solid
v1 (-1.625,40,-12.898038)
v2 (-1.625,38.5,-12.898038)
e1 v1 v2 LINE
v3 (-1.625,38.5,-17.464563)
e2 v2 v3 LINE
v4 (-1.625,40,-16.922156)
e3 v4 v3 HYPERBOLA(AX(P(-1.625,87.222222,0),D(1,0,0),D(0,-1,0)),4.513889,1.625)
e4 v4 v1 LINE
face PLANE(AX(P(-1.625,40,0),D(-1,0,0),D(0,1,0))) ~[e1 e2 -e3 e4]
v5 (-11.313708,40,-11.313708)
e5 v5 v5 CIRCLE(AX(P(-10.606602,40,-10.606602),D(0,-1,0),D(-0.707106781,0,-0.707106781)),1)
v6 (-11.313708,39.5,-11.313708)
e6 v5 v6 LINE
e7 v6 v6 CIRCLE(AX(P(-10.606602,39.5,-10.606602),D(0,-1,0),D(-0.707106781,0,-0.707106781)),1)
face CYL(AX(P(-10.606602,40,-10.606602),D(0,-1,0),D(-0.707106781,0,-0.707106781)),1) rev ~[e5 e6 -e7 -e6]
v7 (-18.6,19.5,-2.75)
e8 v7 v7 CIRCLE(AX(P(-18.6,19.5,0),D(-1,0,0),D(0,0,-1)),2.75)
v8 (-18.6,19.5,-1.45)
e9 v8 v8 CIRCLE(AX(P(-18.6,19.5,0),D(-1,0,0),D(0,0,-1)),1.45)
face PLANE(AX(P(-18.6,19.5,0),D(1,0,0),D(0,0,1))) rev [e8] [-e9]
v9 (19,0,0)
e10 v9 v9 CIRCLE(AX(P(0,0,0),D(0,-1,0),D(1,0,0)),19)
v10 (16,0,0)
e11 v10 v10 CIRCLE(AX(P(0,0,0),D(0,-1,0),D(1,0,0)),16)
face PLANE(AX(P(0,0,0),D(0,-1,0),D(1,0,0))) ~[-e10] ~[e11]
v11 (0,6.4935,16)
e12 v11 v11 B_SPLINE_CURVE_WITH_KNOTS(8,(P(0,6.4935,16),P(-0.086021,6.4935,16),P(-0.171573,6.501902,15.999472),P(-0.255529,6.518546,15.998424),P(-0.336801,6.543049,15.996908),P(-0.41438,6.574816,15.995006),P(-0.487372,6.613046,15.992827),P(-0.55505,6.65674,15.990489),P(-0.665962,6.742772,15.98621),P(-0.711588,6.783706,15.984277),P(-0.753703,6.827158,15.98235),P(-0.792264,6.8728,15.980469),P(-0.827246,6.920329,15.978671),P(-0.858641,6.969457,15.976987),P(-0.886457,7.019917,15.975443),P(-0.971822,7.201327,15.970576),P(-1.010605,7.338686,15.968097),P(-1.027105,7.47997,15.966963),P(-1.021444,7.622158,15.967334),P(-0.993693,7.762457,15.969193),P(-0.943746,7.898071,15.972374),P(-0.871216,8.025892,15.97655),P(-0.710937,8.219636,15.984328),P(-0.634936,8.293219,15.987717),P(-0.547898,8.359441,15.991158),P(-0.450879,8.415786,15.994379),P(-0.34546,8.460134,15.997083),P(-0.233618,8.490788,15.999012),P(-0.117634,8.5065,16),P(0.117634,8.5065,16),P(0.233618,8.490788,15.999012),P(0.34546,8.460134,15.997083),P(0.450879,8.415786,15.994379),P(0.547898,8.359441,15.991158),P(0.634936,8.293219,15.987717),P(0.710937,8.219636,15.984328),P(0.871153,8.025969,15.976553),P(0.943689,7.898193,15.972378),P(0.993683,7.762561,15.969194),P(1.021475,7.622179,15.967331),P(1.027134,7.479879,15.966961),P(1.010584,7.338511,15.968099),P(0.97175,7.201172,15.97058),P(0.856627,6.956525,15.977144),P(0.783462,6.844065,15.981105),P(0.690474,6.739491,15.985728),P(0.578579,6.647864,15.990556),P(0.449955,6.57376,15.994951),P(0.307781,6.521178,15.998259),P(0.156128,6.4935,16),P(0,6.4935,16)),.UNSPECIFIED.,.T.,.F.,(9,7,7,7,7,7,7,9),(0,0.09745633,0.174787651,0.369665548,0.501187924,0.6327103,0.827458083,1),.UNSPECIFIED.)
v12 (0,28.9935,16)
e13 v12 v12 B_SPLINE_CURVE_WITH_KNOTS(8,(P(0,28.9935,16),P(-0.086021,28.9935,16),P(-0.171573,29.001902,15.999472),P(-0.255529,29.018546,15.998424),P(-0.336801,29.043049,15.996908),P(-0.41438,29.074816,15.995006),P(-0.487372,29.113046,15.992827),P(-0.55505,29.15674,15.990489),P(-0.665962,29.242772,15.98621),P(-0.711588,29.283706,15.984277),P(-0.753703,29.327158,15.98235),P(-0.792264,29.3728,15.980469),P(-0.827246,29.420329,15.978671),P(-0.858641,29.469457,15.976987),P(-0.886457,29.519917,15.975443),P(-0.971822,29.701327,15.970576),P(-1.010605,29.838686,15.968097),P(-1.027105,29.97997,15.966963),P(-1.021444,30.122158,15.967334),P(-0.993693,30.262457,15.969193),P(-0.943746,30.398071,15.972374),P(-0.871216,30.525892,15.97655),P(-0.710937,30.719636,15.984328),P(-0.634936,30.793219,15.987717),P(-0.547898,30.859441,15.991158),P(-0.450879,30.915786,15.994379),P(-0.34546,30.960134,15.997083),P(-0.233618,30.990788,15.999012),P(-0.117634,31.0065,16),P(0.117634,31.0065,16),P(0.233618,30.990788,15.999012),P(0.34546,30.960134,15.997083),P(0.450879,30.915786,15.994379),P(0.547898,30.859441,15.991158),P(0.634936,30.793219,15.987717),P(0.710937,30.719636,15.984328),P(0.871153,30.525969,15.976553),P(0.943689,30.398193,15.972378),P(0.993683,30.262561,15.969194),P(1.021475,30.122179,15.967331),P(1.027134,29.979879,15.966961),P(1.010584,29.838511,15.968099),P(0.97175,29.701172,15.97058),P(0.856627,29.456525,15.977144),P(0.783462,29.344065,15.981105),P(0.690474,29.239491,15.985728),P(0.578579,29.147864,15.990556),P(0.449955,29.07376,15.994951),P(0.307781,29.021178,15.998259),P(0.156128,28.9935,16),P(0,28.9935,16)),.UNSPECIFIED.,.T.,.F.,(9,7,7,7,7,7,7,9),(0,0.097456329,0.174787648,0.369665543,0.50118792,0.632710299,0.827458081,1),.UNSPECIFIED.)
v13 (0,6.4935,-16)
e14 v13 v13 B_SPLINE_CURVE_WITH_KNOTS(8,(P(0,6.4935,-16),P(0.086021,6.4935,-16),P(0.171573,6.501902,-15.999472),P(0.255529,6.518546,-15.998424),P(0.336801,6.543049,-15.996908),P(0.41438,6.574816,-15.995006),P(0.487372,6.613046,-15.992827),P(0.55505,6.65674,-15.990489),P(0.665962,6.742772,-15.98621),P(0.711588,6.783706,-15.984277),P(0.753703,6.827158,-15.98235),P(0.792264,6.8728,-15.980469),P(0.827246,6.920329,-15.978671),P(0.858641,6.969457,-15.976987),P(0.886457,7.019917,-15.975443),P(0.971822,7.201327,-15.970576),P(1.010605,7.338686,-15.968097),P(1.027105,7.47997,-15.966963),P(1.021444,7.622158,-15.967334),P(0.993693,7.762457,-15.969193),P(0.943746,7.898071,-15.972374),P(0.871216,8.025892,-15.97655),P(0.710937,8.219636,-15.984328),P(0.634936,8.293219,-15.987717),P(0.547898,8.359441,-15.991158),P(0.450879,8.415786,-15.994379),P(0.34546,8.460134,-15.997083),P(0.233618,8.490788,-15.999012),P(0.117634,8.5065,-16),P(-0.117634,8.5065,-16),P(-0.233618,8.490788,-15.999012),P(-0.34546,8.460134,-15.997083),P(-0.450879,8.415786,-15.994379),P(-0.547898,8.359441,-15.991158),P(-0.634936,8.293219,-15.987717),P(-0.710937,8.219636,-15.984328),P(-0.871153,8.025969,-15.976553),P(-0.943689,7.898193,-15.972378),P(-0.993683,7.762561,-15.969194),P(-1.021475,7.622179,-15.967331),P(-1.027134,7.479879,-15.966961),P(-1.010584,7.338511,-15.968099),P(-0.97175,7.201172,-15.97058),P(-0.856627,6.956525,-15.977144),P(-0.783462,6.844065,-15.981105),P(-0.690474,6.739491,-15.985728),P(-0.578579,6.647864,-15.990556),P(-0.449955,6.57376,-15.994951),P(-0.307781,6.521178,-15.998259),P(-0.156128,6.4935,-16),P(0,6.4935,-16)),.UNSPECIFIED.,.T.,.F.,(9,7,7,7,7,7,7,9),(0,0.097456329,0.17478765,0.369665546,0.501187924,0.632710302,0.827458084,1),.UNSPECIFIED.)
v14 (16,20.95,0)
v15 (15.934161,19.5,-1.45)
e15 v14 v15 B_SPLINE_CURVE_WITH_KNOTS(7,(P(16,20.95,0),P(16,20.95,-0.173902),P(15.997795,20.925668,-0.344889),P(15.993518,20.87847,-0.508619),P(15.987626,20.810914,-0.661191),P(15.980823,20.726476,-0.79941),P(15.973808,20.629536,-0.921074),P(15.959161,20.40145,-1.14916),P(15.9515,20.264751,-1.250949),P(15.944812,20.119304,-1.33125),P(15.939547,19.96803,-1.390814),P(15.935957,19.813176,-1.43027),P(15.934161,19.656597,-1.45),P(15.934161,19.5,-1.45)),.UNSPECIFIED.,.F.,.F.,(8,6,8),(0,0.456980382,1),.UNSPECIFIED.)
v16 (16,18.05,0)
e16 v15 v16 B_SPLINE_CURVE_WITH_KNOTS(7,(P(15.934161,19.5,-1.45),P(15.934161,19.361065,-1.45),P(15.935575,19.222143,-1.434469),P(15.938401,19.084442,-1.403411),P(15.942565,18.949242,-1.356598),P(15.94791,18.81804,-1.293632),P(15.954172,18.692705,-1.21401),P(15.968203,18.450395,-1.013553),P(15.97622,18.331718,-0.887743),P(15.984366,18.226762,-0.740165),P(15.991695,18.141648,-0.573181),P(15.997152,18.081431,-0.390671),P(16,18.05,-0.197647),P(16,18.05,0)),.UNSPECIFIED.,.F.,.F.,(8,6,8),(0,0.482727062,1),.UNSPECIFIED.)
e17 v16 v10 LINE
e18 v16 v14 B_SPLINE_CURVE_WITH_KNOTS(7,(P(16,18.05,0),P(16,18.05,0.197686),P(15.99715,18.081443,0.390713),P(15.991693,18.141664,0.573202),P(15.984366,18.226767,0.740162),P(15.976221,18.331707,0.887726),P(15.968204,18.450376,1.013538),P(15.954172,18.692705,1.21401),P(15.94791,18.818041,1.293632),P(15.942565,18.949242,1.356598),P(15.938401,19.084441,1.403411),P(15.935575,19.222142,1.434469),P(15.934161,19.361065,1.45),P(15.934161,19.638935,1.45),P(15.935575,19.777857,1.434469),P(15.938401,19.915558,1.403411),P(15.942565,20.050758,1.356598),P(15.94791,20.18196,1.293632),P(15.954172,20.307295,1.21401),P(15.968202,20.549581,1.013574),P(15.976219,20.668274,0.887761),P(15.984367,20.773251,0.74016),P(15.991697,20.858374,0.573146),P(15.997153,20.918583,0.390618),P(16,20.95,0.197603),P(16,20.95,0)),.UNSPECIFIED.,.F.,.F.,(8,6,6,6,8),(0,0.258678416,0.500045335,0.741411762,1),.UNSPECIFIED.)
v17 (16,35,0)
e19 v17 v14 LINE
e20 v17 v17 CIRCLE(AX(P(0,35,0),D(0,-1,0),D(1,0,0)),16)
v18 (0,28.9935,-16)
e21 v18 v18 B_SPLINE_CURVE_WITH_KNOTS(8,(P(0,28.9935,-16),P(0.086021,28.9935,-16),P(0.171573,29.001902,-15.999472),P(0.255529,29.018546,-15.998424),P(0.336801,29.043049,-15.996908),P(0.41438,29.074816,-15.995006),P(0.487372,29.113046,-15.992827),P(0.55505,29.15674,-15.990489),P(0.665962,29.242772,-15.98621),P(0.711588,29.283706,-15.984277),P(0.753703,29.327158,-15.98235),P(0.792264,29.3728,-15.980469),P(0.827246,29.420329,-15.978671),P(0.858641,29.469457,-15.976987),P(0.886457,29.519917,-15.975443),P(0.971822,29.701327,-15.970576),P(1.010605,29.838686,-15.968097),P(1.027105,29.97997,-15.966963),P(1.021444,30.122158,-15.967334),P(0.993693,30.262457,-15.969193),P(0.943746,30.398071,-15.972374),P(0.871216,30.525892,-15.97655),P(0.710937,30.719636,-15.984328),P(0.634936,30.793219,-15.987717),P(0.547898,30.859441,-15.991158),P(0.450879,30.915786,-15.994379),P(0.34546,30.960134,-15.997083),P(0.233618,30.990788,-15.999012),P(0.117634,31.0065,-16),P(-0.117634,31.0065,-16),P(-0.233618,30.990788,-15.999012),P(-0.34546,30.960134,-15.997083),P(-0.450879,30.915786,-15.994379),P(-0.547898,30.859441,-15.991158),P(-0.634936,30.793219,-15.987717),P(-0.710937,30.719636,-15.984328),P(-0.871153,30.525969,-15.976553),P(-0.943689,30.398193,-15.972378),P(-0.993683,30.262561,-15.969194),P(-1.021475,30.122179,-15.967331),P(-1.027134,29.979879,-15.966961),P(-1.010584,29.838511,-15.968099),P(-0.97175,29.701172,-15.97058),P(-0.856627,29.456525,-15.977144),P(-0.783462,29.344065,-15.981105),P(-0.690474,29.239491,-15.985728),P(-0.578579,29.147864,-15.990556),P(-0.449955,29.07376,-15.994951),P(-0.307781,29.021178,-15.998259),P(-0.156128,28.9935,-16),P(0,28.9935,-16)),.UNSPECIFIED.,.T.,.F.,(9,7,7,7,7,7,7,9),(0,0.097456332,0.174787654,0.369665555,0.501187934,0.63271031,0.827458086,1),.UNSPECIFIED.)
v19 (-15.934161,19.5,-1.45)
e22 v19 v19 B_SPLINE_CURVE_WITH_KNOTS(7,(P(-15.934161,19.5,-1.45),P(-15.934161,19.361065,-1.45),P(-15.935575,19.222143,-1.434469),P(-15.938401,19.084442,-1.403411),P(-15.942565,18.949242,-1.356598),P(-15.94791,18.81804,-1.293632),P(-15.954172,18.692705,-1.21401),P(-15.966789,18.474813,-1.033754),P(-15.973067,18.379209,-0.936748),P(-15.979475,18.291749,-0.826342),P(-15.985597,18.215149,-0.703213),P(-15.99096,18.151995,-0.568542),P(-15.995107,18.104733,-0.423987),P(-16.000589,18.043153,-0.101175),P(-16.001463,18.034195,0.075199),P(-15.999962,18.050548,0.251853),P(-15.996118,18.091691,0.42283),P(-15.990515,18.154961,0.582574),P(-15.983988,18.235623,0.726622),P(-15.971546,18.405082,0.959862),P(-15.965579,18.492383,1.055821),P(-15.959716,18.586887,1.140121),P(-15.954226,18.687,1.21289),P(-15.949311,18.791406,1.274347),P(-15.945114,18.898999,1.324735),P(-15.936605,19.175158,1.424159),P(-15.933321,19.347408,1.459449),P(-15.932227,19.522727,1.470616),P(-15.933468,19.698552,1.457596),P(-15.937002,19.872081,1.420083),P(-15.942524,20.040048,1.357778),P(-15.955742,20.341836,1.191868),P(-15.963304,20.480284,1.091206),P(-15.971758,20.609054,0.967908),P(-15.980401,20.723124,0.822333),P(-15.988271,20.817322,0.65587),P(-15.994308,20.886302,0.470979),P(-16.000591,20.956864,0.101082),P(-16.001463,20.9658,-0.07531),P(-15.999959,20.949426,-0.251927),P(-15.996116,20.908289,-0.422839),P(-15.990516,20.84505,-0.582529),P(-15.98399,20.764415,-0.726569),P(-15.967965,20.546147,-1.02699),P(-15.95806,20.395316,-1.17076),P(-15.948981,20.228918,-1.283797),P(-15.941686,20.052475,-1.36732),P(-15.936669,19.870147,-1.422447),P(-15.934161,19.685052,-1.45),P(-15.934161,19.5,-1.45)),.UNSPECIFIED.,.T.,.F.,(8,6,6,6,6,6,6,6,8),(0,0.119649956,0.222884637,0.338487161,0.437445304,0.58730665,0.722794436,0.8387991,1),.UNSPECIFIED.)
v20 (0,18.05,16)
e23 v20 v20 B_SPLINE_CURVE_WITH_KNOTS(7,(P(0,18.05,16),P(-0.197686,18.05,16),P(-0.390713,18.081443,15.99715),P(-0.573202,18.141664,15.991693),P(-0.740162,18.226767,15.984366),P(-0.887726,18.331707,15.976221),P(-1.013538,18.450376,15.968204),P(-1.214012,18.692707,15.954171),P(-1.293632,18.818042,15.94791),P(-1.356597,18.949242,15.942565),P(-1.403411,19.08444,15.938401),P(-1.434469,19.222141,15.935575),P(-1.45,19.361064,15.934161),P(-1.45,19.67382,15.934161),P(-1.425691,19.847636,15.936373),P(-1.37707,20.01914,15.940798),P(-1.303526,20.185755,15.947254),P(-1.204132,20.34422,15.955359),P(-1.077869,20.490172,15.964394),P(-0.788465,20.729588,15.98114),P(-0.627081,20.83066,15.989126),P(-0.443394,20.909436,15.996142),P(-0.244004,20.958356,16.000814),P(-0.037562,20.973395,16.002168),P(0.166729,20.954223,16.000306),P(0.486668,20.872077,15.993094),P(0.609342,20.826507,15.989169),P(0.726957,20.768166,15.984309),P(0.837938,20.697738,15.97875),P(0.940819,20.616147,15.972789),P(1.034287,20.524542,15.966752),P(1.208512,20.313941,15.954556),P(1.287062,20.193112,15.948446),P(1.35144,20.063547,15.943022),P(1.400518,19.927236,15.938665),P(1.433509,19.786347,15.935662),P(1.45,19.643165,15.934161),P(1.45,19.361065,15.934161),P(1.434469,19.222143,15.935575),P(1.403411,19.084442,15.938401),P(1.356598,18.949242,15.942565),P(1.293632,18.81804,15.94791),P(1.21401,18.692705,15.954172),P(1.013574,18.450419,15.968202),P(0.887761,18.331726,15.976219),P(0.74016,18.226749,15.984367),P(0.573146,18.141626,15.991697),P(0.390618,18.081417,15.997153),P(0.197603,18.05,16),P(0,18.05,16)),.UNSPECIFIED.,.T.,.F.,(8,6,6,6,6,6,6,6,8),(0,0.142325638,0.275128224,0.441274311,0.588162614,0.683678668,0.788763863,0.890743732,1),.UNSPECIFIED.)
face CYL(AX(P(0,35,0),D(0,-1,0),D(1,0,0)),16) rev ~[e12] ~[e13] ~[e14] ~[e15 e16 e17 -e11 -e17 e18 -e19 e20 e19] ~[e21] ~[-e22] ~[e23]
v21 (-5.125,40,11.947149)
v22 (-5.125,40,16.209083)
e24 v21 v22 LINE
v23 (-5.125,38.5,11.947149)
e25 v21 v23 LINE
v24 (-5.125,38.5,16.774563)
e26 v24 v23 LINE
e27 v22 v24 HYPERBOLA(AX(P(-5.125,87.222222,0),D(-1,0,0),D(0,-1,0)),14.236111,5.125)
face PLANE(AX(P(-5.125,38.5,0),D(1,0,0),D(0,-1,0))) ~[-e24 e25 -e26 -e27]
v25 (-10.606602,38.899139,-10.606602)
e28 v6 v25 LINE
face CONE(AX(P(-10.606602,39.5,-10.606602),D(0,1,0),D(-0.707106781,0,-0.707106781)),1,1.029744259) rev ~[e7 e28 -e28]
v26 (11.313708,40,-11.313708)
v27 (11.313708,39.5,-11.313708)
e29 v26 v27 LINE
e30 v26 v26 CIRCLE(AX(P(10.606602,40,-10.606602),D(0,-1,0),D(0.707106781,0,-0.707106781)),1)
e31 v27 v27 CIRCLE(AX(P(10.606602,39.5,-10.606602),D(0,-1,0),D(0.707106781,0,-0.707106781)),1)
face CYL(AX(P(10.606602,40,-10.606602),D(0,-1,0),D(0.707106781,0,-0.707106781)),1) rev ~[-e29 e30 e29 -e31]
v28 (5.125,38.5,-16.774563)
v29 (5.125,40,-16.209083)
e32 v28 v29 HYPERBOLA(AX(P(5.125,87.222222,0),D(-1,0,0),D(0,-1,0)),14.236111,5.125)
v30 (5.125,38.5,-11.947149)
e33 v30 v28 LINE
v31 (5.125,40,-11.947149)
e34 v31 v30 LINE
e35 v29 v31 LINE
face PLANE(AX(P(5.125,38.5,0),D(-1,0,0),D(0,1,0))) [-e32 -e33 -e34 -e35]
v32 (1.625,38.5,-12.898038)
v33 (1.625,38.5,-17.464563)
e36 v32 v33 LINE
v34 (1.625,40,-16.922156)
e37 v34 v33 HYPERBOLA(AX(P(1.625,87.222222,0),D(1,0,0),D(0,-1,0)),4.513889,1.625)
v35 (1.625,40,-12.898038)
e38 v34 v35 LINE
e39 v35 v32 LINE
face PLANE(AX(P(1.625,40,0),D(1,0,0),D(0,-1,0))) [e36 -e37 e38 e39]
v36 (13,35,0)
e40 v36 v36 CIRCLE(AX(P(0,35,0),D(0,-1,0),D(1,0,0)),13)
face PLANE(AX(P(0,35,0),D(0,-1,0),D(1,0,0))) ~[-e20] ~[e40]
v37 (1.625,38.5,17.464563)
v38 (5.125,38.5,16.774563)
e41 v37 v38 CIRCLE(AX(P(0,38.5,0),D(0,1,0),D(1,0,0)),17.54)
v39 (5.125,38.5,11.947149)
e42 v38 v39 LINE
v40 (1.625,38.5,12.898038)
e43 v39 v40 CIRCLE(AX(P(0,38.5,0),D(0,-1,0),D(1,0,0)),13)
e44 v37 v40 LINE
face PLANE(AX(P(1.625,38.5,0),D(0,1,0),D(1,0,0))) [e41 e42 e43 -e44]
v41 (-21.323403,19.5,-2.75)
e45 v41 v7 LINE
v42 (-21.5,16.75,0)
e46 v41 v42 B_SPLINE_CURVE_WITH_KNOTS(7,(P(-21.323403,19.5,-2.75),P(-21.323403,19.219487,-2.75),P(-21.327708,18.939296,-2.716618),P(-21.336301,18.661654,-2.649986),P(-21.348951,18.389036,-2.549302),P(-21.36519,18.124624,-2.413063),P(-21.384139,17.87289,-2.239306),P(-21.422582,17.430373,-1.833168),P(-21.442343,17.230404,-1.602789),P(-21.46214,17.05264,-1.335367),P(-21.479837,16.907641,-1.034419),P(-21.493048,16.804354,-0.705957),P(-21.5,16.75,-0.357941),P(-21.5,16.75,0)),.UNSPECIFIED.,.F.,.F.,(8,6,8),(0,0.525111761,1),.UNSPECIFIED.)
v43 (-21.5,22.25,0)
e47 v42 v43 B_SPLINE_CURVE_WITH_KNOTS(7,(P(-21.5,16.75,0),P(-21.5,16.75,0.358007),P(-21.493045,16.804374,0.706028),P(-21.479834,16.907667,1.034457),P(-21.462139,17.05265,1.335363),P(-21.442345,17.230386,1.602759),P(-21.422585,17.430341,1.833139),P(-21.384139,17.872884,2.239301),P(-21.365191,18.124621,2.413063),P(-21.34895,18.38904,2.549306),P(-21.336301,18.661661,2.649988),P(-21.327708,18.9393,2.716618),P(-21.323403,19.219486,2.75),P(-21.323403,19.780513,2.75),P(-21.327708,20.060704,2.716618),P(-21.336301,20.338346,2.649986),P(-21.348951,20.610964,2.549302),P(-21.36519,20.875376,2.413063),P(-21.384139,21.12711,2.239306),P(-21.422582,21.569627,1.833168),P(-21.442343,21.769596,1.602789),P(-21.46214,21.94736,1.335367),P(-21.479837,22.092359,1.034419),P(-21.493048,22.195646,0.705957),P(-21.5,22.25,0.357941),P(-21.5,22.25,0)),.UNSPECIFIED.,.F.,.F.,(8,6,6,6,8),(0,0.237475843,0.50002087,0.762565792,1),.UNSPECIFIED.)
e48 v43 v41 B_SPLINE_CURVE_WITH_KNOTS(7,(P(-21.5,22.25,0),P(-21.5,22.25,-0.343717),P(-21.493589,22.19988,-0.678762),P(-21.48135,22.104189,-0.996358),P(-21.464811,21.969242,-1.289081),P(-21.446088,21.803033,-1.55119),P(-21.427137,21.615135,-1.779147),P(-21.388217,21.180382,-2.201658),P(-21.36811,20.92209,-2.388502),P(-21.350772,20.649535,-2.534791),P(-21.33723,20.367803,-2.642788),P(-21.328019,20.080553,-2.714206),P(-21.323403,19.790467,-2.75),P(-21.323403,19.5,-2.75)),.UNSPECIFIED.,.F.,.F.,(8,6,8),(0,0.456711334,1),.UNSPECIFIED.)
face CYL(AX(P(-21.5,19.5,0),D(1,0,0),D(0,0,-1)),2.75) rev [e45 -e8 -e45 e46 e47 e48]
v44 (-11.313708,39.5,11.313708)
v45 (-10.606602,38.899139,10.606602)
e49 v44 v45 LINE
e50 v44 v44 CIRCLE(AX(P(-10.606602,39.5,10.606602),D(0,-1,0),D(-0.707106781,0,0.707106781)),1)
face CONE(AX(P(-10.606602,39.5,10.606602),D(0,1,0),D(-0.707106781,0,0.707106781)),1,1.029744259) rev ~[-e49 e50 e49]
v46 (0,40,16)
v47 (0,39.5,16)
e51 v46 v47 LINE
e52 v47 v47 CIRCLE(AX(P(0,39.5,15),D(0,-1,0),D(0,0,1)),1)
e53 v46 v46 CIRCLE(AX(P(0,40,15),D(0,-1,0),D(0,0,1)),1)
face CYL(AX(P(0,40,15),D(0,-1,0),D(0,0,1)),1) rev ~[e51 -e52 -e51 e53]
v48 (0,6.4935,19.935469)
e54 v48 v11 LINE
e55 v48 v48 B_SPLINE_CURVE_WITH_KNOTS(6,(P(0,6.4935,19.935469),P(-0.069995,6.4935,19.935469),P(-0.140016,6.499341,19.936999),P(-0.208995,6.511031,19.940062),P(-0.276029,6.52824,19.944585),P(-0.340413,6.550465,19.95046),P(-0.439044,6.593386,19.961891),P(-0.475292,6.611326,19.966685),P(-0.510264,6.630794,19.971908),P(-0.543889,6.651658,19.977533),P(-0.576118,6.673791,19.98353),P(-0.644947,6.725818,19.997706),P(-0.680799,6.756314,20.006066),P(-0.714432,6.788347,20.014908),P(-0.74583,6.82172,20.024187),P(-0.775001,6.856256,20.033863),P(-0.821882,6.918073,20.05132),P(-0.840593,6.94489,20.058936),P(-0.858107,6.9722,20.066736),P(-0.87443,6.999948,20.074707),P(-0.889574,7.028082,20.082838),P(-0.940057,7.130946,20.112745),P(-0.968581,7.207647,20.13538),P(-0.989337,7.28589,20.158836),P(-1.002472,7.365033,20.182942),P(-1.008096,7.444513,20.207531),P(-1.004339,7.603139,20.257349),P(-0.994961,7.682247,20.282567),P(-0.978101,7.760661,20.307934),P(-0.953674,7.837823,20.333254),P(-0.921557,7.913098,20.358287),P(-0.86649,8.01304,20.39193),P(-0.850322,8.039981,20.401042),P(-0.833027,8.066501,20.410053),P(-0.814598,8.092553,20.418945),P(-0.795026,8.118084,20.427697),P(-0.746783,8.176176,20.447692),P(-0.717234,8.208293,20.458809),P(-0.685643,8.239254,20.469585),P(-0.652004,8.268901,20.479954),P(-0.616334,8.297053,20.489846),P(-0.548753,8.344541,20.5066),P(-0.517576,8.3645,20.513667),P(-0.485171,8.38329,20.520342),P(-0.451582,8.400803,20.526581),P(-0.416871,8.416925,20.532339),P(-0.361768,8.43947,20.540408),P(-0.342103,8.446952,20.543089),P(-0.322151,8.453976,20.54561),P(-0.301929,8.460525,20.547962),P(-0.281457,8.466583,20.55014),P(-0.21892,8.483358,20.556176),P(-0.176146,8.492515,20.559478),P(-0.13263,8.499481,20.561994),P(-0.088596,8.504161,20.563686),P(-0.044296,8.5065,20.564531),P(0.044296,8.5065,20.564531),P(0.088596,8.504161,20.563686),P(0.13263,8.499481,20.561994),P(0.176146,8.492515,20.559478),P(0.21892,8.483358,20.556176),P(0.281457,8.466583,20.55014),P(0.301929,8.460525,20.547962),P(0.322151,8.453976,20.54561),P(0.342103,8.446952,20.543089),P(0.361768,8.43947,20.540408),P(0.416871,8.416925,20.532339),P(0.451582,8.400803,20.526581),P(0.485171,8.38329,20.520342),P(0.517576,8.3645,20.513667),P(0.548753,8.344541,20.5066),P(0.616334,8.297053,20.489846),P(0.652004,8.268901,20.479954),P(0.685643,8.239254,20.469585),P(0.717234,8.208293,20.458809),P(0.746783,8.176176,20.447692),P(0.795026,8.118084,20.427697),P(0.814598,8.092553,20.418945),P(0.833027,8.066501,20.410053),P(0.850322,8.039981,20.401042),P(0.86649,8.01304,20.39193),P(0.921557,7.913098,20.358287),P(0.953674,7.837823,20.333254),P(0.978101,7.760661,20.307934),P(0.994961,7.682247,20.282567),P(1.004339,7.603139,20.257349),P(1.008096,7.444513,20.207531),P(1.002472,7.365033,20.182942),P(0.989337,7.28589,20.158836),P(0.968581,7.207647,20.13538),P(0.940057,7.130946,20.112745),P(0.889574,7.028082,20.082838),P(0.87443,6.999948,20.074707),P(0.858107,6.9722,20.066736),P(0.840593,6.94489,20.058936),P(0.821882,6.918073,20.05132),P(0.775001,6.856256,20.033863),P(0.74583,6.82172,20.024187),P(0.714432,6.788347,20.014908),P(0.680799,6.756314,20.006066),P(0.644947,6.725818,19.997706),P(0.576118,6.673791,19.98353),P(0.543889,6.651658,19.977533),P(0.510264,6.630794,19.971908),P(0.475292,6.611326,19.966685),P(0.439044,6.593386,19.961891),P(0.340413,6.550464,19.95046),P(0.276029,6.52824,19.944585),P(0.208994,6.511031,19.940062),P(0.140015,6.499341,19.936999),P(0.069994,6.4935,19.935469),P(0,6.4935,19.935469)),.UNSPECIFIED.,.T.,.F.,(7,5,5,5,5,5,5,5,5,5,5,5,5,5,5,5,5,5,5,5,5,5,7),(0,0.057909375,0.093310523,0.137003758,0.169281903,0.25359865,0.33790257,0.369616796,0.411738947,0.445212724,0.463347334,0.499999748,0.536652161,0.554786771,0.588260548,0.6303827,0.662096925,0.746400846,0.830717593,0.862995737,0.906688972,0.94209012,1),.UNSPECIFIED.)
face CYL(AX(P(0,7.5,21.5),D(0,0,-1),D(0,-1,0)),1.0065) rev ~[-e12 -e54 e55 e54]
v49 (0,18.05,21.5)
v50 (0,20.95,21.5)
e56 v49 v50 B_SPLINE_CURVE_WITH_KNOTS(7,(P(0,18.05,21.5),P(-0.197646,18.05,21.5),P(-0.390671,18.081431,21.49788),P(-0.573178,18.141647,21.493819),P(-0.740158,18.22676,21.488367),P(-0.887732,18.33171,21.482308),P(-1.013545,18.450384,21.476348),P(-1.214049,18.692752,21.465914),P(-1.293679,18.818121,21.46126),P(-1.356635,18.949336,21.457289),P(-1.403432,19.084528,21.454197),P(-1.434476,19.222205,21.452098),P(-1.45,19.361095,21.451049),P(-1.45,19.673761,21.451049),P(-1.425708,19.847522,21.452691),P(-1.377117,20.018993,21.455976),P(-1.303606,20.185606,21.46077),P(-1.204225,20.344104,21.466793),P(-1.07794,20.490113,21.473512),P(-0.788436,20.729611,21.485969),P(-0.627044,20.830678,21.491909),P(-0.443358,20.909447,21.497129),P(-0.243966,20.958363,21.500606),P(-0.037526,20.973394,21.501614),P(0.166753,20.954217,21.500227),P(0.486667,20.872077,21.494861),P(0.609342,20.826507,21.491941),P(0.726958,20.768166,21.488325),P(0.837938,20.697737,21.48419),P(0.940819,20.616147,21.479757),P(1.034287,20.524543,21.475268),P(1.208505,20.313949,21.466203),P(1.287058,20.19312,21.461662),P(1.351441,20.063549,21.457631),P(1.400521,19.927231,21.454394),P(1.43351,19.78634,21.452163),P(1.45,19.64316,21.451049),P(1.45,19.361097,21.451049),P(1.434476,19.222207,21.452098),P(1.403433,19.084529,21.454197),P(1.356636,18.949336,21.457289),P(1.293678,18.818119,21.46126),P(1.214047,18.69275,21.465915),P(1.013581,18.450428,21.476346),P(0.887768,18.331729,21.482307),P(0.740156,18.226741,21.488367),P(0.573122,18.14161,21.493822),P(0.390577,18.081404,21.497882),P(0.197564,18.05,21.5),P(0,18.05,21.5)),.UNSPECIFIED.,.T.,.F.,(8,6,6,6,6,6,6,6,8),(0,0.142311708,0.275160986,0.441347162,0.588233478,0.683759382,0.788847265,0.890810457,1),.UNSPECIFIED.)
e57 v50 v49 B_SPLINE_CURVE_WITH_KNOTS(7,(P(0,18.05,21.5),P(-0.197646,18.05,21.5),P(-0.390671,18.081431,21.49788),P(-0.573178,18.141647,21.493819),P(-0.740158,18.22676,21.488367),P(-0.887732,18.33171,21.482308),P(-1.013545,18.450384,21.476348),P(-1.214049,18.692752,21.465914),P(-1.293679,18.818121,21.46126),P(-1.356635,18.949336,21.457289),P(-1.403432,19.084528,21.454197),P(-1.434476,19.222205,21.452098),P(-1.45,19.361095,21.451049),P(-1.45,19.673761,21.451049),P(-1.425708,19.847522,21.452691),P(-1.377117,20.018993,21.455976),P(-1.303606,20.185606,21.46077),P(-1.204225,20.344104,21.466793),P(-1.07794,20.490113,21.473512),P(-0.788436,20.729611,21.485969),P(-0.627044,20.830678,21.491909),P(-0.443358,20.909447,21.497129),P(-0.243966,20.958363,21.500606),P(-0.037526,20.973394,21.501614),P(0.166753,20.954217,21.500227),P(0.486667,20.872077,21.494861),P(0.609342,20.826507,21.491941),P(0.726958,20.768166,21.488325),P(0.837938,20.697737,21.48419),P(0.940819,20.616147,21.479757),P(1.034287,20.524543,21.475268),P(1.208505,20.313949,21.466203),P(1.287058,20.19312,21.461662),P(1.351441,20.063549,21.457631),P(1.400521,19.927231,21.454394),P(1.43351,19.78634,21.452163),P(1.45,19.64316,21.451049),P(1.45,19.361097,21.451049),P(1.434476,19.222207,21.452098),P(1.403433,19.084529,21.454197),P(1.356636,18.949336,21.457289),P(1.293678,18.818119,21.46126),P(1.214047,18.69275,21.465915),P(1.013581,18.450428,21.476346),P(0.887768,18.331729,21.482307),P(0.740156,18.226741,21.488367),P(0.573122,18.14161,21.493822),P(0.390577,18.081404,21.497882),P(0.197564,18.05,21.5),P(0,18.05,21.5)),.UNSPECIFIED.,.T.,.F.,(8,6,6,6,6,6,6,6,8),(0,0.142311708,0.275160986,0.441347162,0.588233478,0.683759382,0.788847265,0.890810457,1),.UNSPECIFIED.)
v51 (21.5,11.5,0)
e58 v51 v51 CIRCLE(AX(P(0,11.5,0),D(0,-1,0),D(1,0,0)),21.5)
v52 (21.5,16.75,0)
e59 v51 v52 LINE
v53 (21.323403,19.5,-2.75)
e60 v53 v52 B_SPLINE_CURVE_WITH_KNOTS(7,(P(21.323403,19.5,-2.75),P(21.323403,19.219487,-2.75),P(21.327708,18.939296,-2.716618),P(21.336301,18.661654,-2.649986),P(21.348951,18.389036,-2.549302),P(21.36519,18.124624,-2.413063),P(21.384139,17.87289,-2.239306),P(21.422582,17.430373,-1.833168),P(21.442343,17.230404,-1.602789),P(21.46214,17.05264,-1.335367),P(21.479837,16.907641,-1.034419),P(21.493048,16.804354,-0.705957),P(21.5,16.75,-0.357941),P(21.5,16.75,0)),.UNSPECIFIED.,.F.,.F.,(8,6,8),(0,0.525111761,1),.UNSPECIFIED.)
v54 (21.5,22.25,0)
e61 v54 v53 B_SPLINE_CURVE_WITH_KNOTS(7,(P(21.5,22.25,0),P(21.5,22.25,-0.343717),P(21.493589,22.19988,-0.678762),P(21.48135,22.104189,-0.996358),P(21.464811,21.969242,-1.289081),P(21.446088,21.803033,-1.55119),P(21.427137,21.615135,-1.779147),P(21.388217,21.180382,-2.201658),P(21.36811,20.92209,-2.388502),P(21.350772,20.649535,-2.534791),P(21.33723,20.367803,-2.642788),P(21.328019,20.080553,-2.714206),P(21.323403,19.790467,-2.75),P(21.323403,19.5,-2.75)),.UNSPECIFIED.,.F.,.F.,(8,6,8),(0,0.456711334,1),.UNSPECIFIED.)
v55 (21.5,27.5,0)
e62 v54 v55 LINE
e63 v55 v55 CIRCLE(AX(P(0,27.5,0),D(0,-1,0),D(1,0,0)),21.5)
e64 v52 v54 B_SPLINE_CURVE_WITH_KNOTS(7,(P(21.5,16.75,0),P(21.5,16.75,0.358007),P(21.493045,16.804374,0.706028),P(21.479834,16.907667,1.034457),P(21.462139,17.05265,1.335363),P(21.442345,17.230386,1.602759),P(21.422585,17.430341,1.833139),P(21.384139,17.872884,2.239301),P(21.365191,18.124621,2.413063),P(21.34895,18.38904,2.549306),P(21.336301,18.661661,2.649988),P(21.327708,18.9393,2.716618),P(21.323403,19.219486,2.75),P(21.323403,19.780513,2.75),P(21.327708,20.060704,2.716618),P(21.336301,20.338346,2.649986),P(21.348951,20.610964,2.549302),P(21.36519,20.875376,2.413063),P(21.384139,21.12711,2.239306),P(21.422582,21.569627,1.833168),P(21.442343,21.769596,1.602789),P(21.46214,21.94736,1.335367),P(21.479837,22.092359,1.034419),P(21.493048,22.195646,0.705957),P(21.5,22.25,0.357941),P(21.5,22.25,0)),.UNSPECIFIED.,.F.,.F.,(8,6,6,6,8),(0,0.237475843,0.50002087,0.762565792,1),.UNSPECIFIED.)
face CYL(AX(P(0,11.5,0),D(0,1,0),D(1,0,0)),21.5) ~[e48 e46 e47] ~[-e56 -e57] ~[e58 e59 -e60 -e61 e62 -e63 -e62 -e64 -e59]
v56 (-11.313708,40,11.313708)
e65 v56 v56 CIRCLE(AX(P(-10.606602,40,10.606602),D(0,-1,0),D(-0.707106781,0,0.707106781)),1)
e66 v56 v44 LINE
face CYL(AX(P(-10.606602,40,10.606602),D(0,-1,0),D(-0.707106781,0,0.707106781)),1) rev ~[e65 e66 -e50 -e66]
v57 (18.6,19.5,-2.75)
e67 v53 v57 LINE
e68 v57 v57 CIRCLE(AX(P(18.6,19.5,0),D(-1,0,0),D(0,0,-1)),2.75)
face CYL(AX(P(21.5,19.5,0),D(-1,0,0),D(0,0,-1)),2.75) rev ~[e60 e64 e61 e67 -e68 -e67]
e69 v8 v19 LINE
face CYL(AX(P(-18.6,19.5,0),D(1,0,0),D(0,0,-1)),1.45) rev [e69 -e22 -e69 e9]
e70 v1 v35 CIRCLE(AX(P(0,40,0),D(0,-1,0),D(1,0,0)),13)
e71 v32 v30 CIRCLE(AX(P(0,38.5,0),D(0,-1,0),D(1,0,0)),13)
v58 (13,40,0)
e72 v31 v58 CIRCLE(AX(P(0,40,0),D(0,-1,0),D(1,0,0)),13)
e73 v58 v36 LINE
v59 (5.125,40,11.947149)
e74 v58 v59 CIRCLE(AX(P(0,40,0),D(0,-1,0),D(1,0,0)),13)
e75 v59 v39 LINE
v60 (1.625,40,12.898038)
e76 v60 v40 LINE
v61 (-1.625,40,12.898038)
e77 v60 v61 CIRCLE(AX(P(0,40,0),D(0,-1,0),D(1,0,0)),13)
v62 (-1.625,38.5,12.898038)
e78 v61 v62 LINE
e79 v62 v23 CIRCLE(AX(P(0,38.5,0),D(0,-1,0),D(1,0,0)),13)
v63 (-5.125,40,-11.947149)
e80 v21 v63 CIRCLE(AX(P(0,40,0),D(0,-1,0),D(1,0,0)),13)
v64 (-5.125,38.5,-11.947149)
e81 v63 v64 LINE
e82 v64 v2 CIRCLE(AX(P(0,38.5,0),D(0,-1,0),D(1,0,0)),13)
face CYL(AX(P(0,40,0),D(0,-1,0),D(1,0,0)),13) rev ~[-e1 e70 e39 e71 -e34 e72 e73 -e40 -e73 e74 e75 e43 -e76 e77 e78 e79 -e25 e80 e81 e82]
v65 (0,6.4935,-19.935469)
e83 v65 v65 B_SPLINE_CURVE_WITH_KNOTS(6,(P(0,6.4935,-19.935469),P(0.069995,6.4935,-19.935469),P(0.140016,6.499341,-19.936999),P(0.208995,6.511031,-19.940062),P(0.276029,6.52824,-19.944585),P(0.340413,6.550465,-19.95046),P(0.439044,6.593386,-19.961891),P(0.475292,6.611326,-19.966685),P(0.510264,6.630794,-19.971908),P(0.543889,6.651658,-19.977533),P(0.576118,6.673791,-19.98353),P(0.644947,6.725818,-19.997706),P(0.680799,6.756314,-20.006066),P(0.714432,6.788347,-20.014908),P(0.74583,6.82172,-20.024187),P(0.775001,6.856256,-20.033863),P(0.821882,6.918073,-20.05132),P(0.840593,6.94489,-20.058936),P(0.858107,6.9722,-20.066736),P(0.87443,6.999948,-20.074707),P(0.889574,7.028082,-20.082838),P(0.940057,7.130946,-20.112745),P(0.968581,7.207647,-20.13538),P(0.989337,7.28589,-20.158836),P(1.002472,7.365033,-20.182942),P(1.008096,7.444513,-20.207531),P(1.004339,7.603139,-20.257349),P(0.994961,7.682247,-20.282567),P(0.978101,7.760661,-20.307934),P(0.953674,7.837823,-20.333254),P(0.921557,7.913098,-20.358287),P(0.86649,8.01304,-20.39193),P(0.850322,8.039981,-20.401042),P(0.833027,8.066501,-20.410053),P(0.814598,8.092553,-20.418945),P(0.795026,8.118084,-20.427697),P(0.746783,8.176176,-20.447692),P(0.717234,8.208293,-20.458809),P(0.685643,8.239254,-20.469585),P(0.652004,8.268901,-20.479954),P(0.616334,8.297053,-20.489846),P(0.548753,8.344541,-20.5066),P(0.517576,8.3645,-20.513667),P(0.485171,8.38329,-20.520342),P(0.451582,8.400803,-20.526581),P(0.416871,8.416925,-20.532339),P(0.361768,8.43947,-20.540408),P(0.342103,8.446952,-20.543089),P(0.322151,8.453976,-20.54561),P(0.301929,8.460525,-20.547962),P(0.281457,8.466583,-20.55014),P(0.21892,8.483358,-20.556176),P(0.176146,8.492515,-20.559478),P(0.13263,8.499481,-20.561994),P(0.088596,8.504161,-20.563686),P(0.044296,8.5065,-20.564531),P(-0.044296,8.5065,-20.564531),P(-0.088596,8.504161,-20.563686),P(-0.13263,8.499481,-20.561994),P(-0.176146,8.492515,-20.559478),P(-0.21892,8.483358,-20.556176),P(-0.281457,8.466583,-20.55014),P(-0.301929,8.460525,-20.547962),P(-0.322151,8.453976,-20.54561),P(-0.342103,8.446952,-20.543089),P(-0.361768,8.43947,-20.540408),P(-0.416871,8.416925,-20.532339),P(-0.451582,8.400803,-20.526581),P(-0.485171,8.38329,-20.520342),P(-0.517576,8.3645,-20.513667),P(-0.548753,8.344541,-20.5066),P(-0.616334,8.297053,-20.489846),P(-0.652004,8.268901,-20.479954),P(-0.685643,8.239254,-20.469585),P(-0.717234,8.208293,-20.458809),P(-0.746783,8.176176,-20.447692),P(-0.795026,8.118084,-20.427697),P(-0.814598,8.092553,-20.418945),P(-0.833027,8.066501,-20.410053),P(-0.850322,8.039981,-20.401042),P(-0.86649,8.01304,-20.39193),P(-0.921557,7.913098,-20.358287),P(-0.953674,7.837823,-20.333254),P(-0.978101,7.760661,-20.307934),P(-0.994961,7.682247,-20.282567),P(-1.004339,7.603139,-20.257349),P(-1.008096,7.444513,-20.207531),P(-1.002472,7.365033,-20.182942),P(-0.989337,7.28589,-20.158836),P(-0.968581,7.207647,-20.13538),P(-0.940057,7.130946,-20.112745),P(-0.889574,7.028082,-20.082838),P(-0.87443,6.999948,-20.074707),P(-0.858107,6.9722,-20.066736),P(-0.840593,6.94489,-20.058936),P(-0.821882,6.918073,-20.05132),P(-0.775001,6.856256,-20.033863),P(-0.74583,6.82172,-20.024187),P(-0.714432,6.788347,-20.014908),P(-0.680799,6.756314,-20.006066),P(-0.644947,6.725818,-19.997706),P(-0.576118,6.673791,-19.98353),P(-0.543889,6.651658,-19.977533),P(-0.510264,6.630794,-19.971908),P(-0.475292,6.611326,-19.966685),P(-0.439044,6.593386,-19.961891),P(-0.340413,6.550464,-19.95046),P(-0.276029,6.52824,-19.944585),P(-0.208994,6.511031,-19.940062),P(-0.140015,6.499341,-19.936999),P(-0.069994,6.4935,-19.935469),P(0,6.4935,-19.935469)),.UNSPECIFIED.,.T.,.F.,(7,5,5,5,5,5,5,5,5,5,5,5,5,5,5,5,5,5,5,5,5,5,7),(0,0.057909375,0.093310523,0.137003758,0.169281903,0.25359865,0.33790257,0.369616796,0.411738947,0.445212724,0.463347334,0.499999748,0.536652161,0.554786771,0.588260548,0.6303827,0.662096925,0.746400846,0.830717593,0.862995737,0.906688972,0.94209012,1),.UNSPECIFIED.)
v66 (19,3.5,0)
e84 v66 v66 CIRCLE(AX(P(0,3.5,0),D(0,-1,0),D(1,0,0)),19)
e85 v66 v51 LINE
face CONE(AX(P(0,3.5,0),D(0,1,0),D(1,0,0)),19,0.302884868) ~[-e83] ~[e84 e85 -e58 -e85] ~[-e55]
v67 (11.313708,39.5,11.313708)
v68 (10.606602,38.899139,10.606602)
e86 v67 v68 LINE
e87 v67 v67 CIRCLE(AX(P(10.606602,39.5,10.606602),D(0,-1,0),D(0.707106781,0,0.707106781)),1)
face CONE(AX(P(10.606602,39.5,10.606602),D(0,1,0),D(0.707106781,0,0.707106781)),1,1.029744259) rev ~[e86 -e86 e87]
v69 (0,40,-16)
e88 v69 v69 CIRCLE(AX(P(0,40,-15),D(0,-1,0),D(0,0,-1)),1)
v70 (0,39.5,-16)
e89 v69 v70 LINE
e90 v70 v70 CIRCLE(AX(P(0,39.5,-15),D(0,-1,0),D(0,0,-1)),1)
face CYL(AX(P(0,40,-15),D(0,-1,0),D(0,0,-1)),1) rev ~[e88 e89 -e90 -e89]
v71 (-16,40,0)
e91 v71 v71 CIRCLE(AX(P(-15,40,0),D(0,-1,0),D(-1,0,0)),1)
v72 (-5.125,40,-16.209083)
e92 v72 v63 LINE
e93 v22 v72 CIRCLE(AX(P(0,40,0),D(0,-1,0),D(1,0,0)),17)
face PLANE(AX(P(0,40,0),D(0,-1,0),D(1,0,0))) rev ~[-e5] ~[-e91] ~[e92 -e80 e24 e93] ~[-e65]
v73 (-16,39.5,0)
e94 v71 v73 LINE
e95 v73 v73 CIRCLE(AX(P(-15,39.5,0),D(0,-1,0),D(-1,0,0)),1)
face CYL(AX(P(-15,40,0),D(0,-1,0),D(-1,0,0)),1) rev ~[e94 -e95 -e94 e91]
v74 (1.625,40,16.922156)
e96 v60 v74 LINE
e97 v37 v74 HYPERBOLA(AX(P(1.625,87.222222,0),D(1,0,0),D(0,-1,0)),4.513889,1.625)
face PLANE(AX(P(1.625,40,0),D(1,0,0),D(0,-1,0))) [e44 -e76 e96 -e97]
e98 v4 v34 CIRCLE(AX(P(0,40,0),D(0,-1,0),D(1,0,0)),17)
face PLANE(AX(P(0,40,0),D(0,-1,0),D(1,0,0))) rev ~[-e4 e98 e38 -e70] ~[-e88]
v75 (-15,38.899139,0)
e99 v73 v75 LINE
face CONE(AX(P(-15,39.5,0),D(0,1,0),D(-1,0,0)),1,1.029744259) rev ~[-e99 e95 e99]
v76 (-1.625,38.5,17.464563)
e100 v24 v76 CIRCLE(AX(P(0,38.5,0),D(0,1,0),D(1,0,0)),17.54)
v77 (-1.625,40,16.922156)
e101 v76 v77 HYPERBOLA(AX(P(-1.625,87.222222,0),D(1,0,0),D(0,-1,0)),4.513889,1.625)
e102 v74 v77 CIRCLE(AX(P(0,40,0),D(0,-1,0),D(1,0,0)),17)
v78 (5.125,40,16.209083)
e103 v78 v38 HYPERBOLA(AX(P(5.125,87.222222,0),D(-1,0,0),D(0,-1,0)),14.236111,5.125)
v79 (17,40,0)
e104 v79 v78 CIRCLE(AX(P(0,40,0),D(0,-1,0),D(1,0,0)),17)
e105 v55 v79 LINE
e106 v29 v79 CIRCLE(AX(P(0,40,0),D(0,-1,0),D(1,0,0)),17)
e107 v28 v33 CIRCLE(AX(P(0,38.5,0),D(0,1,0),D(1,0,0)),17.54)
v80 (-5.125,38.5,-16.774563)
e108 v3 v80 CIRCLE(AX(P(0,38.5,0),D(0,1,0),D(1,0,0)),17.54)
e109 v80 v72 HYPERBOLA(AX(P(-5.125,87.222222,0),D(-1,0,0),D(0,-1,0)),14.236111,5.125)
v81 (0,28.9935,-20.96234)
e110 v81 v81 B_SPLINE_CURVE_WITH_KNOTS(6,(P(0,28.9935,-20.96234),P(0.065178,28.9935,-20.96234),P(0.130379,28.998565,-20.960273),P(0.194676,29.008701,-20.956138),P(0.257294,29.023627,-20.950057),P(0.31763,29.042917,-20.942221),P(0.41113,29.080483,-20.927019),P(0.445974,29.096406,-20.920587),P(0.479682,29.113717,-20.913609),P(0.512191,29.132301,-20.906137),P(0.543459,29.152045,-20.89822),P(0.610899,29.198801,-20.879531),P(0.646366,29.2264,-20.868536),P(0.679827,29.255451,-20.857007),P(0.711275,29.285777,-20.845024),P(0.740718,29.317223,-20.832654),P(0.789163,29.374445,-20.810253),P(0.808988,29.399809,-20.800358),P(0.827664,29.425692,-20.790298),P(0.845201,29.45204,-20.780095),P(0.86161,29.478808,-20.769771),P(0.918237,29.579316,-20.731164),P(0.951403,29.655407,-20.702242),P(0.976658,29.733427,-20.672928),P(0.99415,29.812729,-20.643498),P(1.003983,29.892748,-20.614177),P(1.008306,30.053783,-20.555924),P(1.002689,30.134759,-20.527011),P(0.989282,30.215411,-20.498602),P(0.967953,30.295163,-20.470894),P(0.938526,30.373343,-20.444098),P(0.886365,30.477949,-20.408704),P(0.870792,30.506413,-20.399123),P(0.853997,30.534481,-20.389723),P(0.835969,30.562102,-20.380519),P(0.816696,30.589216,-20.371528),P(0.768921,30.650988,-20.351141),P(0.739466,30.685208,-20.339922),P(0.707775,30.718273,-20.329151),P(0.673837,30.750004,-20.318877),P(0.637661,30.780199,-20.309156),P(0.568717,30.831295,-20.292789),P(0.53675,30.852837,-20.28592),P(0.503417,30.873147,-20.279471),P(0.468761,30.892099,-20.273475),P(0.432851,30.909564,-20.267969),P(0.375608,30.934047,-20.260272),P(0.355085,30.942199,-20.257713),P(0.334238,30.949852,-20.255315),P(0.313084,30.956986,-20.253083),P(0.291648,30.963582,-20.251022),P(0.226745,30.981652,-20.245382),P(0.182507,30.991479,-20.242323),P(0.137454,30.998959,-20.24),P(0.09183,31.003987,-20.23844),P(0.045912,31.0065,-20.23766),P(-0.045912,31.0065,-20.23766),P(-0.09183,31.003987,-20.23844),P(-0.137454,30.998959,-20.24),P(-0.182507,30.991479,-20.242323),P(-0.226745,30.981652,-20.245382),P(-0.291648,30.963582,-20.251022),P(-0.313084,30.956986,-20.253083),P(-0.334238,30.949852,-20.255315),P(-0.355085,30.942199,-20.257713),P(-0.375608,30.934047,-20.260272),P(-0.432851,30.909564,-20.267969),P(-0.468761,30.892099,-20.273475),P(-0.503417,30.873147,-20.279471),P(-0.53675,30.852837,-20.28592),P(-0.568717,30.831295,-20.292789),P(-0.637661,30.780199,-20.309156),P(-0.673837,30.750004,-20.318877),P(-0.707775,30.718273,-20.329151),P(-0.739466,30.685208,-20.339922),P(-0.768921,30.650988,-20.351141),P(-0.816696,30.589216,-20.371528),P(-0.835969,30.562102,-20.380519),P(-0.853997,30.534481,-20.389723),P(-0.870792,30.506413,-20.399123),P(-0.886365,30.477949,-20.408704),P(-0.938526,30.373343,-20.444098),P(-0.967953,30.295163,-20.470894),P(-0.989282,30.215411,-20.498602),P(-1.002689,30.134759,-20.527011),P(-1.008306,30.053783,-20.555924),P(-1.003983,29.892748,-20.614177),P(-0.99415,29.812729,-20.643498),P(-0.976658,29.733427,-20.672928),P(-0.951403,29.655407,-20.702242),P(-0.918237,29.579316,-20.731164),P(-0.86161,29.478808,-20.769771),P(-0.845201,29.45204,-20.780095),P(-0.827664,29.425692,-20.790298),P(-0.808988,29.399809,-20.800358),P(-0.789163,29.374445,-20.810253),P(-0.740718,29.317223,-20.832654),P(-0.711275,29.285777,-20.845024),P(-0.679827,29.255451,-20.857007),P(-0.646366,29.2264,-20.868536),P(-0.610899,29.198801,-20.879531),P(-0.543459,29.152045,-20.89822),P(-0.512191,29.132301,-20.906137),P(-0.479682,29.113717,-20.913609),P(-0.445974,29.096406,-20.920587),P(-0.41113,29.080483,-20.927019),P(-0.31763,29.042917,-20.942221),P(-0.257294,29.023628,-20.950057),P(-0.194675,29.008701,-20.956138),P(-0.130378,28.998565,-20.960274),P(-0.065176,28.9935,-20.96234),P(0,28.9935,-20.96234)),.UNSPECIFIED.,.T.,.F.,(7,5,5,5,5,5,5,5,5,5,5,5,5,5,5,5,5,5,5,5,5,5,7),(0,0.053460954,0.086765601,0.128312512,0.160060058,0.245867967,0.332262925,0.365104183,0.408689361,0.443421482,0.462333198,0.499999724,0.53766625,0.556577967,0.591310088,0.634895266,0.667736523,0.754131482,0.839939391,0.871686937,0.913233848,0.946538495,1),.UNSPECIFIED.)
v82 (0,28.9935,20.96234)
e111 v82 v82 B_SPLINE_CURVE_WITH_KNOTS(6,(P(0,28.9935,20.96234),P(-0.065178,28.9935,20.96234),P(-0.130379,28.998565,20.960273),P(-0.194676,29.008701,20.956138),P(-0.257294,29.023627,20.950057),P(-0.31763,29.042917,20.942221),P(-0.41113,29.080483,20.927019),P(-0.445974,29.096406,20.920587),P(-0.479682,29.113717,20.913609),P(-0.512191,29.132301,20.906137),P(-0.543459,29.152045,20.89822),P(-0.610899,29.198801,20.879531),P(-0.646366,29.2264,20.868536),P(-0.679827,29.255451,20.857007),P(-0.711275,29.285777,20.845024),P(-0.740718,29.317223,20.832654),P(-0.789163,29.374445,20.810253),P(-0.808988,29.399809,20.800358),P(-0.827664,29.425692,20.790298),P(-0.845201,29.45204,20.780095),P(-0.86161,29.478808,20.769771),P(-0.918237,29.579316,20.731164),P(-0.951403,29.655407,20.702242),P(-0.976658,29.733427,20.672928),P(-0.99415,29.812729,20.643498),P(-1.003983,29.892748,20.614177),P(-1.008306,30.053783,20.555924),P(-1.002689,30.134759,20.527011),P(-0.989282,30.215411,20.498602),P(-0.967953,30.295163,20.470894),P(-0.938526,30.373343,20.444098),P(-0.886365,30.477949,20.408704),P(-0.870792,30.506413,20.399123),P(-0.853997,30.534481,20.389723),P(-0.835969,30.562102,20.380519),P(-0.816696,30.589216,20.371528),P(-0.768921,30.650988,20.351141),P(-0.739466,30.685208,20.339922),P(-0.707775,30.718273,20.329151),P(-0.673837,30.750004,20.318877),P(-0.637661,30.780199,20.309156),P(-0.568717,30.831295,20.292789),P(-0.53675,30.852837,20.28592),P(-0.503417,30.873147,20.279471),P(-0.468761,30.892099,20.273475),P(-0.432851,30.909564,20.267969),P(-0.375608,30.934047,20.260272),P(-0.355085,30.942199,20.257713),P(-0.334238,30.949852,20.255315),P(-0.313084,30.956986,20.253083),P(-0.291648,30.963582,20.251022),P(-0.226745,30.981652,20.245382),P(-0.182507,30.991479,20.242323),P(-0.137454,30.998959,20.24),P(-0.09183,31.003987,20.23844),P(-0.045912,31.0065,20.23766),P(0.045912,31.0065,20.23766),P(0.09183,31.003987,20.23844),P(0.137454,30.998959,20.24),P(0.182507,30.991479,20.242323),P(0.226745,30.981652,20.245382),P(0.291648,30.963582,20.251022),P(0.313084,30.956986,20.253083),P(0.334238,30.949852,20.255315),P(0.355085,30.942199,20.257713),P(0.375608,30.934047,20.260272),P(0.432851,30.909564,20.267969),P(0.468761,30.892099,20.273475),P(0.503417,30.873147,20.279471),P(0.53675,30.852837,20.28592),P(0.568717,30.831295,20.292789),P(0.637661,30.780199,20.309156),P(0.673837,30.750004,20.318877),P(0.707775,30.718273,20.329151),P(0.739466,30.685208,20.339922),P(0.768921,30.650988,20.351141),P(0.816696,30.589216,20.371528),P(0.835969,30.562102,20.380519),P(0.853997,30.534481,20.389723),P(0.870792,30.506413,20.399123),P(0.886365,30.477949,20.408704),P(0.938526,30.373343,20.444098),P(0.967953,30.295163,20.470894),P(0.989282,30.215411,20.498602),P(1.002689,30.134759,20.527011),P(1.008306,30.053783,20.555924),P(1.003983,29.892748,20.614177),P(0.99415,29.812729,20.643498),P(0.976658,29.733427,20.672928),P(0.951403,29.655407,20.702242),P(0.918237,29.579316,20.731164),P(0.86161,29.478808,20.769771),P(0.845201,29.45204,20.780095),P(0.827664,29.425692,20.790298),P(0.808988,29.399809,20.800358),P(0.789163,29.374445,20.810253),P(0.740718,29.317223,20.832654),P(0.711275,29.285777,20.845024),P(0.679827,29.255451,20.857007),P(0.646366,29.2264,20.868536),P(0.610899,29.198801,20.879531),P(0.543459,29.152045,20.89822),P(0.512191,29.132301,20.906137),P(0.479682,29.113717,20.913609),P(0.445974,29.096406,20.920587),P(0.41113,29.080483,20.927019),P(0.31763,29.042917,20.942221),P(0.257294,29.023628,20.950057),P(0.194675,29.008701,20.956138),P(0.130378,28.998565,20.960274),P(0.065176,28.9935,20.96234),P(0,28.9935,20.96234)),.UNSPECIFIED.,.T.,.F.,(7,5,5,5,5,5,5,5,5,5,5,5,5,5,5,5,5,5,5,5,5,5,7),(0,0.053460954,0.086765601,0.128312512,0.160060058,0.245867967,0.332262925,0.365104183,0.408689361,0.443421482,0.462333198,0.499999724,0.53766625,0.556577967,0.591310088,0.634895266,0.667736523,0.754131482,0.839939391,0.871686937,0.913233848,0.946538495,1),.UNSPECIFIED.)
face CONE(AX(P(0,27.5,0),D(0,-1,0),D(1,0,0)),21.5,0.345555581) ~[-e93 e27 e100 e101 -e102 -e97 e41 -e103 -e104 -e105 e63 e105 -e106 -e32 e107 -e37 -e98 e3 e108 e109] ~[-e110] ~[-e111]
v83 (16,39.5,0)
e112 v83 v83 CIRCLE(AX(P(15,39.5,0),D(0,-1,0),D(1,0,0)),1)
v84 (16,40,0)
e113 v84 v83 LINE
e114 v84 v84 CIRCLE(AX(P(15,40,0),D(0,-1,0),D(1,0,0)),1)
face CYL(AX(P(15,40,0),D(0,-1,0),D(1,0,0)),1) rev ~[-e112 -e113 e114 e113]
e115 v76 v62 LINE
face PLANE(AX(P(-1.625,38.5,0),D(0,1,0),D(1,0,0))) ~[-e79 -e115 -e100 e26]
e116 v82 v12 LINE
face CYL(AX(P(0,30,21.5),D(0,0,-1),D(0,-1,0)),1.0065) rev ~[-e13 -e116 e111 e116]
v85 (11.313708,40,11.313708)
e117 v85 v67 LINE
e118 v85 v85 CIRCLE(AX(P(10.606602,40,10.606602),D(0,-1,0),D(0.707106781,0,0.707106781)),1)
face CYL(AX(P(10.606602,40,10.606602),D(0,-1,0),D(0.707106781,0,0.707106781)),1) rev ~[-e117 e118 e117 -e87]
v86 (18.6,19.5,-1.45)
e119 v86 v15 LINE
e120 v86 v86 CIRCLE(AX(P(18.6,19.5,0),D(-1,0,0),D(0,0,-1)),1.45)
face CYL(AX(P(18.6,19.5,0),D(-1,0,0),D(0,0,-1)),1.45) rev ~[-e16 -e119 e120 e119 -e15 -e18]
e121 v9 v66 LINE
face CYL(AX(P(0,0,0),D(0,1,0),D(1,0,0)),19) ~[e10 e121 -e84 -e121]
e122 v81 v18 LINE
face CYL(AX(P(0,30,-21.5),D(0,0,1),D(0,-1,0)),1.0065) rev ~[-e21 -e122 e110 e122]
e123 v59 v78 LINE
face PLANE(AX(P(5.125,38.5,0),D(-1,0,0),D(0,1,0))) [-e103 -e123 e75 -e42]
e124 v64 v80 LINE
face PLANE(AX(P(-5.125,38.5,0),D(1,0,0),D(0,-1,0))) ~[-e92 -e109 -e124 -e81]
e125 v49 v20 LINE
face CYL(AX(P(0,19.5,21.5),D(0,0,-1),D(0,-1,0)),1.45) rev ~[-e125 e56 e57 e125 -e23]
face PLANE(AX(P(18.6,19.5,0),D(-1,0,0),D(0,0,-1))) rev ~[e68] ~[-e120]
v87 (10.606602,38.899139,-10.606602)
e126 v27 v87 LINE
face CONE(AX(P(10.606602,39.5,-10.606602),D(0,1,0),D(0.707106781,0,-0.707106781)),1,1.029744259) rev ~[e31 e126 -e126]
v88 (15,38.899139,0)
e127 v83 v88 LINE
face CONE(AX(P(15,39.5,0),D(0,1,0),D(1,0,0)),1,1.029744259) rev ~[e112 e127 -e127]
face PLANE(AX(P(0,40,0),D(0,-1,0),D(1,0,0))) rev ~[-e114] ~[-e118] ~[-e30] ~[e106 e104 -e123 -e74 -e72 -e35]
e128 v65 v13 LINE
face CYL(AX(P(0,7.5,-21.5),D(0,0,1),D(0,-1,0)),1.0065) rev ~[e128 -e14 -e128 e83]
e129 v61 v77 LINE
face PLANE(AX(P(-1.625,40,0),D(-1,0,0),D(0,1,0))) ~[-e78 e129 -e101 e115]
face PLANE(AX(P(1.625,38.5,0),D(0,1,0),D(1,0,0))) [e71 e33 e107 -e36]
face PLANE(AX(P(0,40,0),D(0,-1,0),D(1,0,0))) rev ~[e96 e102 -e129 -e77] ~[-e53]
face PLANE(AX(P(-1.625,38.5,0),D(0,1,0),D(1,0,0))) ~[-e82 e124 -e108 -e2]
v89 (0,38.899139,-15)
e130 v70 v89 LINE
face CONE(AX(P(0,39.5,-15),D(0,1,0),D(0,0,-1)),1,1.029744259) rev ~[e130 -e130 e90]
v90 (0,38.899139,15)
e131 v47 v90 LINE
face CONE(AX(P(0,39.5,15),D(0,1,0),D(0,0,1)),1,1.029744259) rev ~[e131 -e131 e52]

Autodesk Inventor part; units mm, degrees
sketch "Sketch1" plane through (0, 0, 0) normal (0, 0, 1) x (1, 0, 0)
  line L0 (0, 48) -> (0, -8) projected
  line L1 (0, 0) -> (19, 0)
  line L2 (19, 0) -> (19, 3.5)
  line L3 (19, 3.5) -> (21.5, 11.5)
  line L4 (21.5, 11.5) -> (21.5, 27.5)
  line L5 (21.5, 27.5) -> (17, 40)
  line L6 (17, 40) -> (13, 40)
  line L7 (13, 40) -> (13, 0)
  line L8 (-4.3, 0) -> (25.8, 0) construction
  line L9 (5.125, 40) -> (1.625, 40)
  line L10 (1.625, 40) -> (1.625, 38.5)
  line L11 (1.625, 38.5) -> (5.125, 38.5)
  line L12 (5.125, 38.5) -> (5.125, 40)
  line L13 (13, 35) -> (16, 35)
  line L14 (16, 35) -> (16, 0)
  line L15 (14, 40) -> (14, 0)
  point P0 (16, 0)
  dimension "d0" = 38
  dimension "d1" = 3.5
  dimension "d2" = 43
  dimension "d3" = 11.5
  dimension "d5" = 34
  dimension "d6" = 40
  dimension "d7" = 26
  dimension "d9" = 3.5
  dimension "d10" = 1.5
  dimension "d11" = 3.25
  dimension "d24" = 32
  dimension "d56" = 27.5
  dimension "d57" = 5
  dimension "d59" = 2
revolve "Revolution1" add sketch "Sketch1" angle 360 about axis through (0, 0, 0) along (0, -1, 0) contours L7 L6 L15 L13 | L14 L13 L15 L6 L5 L4 L3 L2 L1
extrude "Extrusion1" cut sketch "Sketch1" along normal through all both and the other way through all contours L12 L11 L10 L9
mirror "Mirror1" about plane through (0, 0, 0) normal (1, 0, 0) of "Extrusion1"
sketch "Sketch4" plane through (1.625, 40, 16.9222) normal (0, 1, 0) x (1, 0, 0)
  line L0 (-3.25, 4.0241) -> (-3.25, 0) projected
  arc A0 (-3.25, 0) -> (0, 0) centre (-1.625, 16.9222) ccw projected
  line L1 (0, 0) -> (0, 4.0241) projected
  arc A1 (-3.25, 4.0241) -> (0, 4.0241) centre (-1.625, 16.9222) ccw projected
  line L2 (-1.625, 3.9222) -> (-1.625, -0.0778)
  line L3 (0, 29.8202) -> (0, 33.8443) projected
  line L4 (-3.25, 33.8443) -> (-3.25, 29.8202) projected
  arc A2 (0, 33.8443) -> (-3.25, 33.8443) centre (-1.625, 16.9222) ccw projected
  arc A3 (-3.25, 4.0241) -> (0, 4.0241) centre (-1.625, 16.9222) ccw projected
  arc A4 (0, 29.8202) -> (-3.25, 29.8202) centre (-1.625, 16.9222) ccw projected
  point P0 (-1.625, 1.9222)
hole "Hole1" at (0, 40, 15) direction (0, -1, 0) diameter 2 depth 0.5 tip angle 118
pattern_circular "Circular Pattern1" count 8 over 360 about axis through (0, -10, 0) along (0, 1, 0) of "Hole1"
ref_plane "Work Plane1" through (0, 19.5, 21.5) normal (0, 0, 1) x (1, 0, 0)
sketch "Sketch5" plane through (0, 19.5, 21.5) normal (0, 0, 1) x (1, 0, 0)
  line L0 (-21.5, 8) -> (21.5, 8) projected
  line L1 (-21.5, -8) -> (21.5, -8) projected
  line L2 (-21.5, -8) -> (21.5, -8) projected
  line L3 (-21.5, 8) -> (21.5, 8) projected
  line L4 (0, 8) -> (0, -8)
  point P0 (0, -19.5)
  point P1 (0, 0)
hole "Hole2" at (0, 19.5, 21.5) direction (0, 0, -1) diameter 2.9 depth 7.6 clearance for "Countersunk Flat Head Screw ISO 2009/7046" size "M2.5" standard "ISO"
ref_plane "Work Plane2" through (21.5, 19.5, 0) normal (1, 0, 0) x (0, 1, 0)
sketch "Sketch6" plane through (21.5, 19.5, 0) normal (1, 0, 0) x (0, 1, 0)
  line L0 (8, 21.5) -> (8, -21.5) projected
  line L1 (-8, 21.5) -> (-8, -21.5) projected
  line L2 (8, 0) -> (-8, 0)
  point P0 (-19.5, 0)
  point P1 (0, 0)
hole "Hole3" at (21.5, 19.5, 0) direction (-1, 0, 0) diameter 2.9 depth 10 counterbore diameter 5.5 counterbore depth 2.9 clearance for "Socket Head Cap Screw DIN EN ISO 4762" size "M2.5" standard "DIN"
mirror "Mirror2" about plane through (0, 0, 0) normal (1, 0, 0) of "Hole3"
ref_plane "Work Plane3" through (0, 19.5, 21.5) normal (0, 0, 1) x (1, 0, 0)
sketch "Sketch7" plane through (0, 19.5, 21.5) normal (0, 0, 1) x (1, 0, 0)
  line L0 (-21.5, -8) -> (21.5, -8) projected
  line L1 (-19, -16) -> (19, -16) projected
  line L2 (-21.5, -8) -> (21.5, -8) projected
  line L3 (0, -8) -> (0, -16)
  line L4 (-21.5, 8) -> (21.5, 8) projected
  line L5 (-1.625, 20.5) -> (-1.625, 19) projected
  line L6 (-1.625, 19) -> (-5.125, 19) projected
  line L7 (-5.125, 19) -> (-5.125, 20.5) projected
  line L8 (-5.125, 20.5) -> (-5.125, 20.5) projected
  line L9 (-5.125, 20.5) -> (-5.125, 19) projected
  line L10 (-5.125, 19) -> (-1.625, 19) projected
  line L11 (-1.625, 19) -> (-1.625, 20.5) projected
  line L12 (-1.625, 20.5) -> (1.625, 20.5) projected
  line L13 (1.625, 20.5) -> (1.625, 19) projected
  line L14 (1.625, 19) -> (5.125, 19) projected
  line L15 (5.125, 19) -> (5.125, 20.5) projected
  line L16 (5.125, 20.5) -> (5.125, 20.5) projected
  line L17 (5.125, 20.5) -> (5.125, 19) projected
  line L18 (5.125, 19) -> (1.625, 19) projected
  line L19 (1.625, 19) -> (1.625, 20.5) projected
  line L20 (1.625, 20.5) -> (-1.625, 20.5) projected
  line L21 (-1.625, 20.5) -> (1.625, 20.5) projected
  line L22 (0, 20.5) -> (0, 8)
  point P0 (0, -19.5)
  point P1 (0, -12)
  point P2 (0, 10.5)
  dimension "d58" = 10
hole "Hole4" at (0, 7.5, 21.5) at (0, 30, 21.5) direction (0, 0, -1) diameter 2.013 depth 20 thread size "M2.5x0.45" class "6H" standard "ISO Metric profile"
pattern_circular "Circular Pattern3" count 2 over 360 about axis through (0, -10, 0) along (0, 1, 0) of "Hole4"
equation "\"d47\" = d58"
properties part number "Emitter_Barrel"
